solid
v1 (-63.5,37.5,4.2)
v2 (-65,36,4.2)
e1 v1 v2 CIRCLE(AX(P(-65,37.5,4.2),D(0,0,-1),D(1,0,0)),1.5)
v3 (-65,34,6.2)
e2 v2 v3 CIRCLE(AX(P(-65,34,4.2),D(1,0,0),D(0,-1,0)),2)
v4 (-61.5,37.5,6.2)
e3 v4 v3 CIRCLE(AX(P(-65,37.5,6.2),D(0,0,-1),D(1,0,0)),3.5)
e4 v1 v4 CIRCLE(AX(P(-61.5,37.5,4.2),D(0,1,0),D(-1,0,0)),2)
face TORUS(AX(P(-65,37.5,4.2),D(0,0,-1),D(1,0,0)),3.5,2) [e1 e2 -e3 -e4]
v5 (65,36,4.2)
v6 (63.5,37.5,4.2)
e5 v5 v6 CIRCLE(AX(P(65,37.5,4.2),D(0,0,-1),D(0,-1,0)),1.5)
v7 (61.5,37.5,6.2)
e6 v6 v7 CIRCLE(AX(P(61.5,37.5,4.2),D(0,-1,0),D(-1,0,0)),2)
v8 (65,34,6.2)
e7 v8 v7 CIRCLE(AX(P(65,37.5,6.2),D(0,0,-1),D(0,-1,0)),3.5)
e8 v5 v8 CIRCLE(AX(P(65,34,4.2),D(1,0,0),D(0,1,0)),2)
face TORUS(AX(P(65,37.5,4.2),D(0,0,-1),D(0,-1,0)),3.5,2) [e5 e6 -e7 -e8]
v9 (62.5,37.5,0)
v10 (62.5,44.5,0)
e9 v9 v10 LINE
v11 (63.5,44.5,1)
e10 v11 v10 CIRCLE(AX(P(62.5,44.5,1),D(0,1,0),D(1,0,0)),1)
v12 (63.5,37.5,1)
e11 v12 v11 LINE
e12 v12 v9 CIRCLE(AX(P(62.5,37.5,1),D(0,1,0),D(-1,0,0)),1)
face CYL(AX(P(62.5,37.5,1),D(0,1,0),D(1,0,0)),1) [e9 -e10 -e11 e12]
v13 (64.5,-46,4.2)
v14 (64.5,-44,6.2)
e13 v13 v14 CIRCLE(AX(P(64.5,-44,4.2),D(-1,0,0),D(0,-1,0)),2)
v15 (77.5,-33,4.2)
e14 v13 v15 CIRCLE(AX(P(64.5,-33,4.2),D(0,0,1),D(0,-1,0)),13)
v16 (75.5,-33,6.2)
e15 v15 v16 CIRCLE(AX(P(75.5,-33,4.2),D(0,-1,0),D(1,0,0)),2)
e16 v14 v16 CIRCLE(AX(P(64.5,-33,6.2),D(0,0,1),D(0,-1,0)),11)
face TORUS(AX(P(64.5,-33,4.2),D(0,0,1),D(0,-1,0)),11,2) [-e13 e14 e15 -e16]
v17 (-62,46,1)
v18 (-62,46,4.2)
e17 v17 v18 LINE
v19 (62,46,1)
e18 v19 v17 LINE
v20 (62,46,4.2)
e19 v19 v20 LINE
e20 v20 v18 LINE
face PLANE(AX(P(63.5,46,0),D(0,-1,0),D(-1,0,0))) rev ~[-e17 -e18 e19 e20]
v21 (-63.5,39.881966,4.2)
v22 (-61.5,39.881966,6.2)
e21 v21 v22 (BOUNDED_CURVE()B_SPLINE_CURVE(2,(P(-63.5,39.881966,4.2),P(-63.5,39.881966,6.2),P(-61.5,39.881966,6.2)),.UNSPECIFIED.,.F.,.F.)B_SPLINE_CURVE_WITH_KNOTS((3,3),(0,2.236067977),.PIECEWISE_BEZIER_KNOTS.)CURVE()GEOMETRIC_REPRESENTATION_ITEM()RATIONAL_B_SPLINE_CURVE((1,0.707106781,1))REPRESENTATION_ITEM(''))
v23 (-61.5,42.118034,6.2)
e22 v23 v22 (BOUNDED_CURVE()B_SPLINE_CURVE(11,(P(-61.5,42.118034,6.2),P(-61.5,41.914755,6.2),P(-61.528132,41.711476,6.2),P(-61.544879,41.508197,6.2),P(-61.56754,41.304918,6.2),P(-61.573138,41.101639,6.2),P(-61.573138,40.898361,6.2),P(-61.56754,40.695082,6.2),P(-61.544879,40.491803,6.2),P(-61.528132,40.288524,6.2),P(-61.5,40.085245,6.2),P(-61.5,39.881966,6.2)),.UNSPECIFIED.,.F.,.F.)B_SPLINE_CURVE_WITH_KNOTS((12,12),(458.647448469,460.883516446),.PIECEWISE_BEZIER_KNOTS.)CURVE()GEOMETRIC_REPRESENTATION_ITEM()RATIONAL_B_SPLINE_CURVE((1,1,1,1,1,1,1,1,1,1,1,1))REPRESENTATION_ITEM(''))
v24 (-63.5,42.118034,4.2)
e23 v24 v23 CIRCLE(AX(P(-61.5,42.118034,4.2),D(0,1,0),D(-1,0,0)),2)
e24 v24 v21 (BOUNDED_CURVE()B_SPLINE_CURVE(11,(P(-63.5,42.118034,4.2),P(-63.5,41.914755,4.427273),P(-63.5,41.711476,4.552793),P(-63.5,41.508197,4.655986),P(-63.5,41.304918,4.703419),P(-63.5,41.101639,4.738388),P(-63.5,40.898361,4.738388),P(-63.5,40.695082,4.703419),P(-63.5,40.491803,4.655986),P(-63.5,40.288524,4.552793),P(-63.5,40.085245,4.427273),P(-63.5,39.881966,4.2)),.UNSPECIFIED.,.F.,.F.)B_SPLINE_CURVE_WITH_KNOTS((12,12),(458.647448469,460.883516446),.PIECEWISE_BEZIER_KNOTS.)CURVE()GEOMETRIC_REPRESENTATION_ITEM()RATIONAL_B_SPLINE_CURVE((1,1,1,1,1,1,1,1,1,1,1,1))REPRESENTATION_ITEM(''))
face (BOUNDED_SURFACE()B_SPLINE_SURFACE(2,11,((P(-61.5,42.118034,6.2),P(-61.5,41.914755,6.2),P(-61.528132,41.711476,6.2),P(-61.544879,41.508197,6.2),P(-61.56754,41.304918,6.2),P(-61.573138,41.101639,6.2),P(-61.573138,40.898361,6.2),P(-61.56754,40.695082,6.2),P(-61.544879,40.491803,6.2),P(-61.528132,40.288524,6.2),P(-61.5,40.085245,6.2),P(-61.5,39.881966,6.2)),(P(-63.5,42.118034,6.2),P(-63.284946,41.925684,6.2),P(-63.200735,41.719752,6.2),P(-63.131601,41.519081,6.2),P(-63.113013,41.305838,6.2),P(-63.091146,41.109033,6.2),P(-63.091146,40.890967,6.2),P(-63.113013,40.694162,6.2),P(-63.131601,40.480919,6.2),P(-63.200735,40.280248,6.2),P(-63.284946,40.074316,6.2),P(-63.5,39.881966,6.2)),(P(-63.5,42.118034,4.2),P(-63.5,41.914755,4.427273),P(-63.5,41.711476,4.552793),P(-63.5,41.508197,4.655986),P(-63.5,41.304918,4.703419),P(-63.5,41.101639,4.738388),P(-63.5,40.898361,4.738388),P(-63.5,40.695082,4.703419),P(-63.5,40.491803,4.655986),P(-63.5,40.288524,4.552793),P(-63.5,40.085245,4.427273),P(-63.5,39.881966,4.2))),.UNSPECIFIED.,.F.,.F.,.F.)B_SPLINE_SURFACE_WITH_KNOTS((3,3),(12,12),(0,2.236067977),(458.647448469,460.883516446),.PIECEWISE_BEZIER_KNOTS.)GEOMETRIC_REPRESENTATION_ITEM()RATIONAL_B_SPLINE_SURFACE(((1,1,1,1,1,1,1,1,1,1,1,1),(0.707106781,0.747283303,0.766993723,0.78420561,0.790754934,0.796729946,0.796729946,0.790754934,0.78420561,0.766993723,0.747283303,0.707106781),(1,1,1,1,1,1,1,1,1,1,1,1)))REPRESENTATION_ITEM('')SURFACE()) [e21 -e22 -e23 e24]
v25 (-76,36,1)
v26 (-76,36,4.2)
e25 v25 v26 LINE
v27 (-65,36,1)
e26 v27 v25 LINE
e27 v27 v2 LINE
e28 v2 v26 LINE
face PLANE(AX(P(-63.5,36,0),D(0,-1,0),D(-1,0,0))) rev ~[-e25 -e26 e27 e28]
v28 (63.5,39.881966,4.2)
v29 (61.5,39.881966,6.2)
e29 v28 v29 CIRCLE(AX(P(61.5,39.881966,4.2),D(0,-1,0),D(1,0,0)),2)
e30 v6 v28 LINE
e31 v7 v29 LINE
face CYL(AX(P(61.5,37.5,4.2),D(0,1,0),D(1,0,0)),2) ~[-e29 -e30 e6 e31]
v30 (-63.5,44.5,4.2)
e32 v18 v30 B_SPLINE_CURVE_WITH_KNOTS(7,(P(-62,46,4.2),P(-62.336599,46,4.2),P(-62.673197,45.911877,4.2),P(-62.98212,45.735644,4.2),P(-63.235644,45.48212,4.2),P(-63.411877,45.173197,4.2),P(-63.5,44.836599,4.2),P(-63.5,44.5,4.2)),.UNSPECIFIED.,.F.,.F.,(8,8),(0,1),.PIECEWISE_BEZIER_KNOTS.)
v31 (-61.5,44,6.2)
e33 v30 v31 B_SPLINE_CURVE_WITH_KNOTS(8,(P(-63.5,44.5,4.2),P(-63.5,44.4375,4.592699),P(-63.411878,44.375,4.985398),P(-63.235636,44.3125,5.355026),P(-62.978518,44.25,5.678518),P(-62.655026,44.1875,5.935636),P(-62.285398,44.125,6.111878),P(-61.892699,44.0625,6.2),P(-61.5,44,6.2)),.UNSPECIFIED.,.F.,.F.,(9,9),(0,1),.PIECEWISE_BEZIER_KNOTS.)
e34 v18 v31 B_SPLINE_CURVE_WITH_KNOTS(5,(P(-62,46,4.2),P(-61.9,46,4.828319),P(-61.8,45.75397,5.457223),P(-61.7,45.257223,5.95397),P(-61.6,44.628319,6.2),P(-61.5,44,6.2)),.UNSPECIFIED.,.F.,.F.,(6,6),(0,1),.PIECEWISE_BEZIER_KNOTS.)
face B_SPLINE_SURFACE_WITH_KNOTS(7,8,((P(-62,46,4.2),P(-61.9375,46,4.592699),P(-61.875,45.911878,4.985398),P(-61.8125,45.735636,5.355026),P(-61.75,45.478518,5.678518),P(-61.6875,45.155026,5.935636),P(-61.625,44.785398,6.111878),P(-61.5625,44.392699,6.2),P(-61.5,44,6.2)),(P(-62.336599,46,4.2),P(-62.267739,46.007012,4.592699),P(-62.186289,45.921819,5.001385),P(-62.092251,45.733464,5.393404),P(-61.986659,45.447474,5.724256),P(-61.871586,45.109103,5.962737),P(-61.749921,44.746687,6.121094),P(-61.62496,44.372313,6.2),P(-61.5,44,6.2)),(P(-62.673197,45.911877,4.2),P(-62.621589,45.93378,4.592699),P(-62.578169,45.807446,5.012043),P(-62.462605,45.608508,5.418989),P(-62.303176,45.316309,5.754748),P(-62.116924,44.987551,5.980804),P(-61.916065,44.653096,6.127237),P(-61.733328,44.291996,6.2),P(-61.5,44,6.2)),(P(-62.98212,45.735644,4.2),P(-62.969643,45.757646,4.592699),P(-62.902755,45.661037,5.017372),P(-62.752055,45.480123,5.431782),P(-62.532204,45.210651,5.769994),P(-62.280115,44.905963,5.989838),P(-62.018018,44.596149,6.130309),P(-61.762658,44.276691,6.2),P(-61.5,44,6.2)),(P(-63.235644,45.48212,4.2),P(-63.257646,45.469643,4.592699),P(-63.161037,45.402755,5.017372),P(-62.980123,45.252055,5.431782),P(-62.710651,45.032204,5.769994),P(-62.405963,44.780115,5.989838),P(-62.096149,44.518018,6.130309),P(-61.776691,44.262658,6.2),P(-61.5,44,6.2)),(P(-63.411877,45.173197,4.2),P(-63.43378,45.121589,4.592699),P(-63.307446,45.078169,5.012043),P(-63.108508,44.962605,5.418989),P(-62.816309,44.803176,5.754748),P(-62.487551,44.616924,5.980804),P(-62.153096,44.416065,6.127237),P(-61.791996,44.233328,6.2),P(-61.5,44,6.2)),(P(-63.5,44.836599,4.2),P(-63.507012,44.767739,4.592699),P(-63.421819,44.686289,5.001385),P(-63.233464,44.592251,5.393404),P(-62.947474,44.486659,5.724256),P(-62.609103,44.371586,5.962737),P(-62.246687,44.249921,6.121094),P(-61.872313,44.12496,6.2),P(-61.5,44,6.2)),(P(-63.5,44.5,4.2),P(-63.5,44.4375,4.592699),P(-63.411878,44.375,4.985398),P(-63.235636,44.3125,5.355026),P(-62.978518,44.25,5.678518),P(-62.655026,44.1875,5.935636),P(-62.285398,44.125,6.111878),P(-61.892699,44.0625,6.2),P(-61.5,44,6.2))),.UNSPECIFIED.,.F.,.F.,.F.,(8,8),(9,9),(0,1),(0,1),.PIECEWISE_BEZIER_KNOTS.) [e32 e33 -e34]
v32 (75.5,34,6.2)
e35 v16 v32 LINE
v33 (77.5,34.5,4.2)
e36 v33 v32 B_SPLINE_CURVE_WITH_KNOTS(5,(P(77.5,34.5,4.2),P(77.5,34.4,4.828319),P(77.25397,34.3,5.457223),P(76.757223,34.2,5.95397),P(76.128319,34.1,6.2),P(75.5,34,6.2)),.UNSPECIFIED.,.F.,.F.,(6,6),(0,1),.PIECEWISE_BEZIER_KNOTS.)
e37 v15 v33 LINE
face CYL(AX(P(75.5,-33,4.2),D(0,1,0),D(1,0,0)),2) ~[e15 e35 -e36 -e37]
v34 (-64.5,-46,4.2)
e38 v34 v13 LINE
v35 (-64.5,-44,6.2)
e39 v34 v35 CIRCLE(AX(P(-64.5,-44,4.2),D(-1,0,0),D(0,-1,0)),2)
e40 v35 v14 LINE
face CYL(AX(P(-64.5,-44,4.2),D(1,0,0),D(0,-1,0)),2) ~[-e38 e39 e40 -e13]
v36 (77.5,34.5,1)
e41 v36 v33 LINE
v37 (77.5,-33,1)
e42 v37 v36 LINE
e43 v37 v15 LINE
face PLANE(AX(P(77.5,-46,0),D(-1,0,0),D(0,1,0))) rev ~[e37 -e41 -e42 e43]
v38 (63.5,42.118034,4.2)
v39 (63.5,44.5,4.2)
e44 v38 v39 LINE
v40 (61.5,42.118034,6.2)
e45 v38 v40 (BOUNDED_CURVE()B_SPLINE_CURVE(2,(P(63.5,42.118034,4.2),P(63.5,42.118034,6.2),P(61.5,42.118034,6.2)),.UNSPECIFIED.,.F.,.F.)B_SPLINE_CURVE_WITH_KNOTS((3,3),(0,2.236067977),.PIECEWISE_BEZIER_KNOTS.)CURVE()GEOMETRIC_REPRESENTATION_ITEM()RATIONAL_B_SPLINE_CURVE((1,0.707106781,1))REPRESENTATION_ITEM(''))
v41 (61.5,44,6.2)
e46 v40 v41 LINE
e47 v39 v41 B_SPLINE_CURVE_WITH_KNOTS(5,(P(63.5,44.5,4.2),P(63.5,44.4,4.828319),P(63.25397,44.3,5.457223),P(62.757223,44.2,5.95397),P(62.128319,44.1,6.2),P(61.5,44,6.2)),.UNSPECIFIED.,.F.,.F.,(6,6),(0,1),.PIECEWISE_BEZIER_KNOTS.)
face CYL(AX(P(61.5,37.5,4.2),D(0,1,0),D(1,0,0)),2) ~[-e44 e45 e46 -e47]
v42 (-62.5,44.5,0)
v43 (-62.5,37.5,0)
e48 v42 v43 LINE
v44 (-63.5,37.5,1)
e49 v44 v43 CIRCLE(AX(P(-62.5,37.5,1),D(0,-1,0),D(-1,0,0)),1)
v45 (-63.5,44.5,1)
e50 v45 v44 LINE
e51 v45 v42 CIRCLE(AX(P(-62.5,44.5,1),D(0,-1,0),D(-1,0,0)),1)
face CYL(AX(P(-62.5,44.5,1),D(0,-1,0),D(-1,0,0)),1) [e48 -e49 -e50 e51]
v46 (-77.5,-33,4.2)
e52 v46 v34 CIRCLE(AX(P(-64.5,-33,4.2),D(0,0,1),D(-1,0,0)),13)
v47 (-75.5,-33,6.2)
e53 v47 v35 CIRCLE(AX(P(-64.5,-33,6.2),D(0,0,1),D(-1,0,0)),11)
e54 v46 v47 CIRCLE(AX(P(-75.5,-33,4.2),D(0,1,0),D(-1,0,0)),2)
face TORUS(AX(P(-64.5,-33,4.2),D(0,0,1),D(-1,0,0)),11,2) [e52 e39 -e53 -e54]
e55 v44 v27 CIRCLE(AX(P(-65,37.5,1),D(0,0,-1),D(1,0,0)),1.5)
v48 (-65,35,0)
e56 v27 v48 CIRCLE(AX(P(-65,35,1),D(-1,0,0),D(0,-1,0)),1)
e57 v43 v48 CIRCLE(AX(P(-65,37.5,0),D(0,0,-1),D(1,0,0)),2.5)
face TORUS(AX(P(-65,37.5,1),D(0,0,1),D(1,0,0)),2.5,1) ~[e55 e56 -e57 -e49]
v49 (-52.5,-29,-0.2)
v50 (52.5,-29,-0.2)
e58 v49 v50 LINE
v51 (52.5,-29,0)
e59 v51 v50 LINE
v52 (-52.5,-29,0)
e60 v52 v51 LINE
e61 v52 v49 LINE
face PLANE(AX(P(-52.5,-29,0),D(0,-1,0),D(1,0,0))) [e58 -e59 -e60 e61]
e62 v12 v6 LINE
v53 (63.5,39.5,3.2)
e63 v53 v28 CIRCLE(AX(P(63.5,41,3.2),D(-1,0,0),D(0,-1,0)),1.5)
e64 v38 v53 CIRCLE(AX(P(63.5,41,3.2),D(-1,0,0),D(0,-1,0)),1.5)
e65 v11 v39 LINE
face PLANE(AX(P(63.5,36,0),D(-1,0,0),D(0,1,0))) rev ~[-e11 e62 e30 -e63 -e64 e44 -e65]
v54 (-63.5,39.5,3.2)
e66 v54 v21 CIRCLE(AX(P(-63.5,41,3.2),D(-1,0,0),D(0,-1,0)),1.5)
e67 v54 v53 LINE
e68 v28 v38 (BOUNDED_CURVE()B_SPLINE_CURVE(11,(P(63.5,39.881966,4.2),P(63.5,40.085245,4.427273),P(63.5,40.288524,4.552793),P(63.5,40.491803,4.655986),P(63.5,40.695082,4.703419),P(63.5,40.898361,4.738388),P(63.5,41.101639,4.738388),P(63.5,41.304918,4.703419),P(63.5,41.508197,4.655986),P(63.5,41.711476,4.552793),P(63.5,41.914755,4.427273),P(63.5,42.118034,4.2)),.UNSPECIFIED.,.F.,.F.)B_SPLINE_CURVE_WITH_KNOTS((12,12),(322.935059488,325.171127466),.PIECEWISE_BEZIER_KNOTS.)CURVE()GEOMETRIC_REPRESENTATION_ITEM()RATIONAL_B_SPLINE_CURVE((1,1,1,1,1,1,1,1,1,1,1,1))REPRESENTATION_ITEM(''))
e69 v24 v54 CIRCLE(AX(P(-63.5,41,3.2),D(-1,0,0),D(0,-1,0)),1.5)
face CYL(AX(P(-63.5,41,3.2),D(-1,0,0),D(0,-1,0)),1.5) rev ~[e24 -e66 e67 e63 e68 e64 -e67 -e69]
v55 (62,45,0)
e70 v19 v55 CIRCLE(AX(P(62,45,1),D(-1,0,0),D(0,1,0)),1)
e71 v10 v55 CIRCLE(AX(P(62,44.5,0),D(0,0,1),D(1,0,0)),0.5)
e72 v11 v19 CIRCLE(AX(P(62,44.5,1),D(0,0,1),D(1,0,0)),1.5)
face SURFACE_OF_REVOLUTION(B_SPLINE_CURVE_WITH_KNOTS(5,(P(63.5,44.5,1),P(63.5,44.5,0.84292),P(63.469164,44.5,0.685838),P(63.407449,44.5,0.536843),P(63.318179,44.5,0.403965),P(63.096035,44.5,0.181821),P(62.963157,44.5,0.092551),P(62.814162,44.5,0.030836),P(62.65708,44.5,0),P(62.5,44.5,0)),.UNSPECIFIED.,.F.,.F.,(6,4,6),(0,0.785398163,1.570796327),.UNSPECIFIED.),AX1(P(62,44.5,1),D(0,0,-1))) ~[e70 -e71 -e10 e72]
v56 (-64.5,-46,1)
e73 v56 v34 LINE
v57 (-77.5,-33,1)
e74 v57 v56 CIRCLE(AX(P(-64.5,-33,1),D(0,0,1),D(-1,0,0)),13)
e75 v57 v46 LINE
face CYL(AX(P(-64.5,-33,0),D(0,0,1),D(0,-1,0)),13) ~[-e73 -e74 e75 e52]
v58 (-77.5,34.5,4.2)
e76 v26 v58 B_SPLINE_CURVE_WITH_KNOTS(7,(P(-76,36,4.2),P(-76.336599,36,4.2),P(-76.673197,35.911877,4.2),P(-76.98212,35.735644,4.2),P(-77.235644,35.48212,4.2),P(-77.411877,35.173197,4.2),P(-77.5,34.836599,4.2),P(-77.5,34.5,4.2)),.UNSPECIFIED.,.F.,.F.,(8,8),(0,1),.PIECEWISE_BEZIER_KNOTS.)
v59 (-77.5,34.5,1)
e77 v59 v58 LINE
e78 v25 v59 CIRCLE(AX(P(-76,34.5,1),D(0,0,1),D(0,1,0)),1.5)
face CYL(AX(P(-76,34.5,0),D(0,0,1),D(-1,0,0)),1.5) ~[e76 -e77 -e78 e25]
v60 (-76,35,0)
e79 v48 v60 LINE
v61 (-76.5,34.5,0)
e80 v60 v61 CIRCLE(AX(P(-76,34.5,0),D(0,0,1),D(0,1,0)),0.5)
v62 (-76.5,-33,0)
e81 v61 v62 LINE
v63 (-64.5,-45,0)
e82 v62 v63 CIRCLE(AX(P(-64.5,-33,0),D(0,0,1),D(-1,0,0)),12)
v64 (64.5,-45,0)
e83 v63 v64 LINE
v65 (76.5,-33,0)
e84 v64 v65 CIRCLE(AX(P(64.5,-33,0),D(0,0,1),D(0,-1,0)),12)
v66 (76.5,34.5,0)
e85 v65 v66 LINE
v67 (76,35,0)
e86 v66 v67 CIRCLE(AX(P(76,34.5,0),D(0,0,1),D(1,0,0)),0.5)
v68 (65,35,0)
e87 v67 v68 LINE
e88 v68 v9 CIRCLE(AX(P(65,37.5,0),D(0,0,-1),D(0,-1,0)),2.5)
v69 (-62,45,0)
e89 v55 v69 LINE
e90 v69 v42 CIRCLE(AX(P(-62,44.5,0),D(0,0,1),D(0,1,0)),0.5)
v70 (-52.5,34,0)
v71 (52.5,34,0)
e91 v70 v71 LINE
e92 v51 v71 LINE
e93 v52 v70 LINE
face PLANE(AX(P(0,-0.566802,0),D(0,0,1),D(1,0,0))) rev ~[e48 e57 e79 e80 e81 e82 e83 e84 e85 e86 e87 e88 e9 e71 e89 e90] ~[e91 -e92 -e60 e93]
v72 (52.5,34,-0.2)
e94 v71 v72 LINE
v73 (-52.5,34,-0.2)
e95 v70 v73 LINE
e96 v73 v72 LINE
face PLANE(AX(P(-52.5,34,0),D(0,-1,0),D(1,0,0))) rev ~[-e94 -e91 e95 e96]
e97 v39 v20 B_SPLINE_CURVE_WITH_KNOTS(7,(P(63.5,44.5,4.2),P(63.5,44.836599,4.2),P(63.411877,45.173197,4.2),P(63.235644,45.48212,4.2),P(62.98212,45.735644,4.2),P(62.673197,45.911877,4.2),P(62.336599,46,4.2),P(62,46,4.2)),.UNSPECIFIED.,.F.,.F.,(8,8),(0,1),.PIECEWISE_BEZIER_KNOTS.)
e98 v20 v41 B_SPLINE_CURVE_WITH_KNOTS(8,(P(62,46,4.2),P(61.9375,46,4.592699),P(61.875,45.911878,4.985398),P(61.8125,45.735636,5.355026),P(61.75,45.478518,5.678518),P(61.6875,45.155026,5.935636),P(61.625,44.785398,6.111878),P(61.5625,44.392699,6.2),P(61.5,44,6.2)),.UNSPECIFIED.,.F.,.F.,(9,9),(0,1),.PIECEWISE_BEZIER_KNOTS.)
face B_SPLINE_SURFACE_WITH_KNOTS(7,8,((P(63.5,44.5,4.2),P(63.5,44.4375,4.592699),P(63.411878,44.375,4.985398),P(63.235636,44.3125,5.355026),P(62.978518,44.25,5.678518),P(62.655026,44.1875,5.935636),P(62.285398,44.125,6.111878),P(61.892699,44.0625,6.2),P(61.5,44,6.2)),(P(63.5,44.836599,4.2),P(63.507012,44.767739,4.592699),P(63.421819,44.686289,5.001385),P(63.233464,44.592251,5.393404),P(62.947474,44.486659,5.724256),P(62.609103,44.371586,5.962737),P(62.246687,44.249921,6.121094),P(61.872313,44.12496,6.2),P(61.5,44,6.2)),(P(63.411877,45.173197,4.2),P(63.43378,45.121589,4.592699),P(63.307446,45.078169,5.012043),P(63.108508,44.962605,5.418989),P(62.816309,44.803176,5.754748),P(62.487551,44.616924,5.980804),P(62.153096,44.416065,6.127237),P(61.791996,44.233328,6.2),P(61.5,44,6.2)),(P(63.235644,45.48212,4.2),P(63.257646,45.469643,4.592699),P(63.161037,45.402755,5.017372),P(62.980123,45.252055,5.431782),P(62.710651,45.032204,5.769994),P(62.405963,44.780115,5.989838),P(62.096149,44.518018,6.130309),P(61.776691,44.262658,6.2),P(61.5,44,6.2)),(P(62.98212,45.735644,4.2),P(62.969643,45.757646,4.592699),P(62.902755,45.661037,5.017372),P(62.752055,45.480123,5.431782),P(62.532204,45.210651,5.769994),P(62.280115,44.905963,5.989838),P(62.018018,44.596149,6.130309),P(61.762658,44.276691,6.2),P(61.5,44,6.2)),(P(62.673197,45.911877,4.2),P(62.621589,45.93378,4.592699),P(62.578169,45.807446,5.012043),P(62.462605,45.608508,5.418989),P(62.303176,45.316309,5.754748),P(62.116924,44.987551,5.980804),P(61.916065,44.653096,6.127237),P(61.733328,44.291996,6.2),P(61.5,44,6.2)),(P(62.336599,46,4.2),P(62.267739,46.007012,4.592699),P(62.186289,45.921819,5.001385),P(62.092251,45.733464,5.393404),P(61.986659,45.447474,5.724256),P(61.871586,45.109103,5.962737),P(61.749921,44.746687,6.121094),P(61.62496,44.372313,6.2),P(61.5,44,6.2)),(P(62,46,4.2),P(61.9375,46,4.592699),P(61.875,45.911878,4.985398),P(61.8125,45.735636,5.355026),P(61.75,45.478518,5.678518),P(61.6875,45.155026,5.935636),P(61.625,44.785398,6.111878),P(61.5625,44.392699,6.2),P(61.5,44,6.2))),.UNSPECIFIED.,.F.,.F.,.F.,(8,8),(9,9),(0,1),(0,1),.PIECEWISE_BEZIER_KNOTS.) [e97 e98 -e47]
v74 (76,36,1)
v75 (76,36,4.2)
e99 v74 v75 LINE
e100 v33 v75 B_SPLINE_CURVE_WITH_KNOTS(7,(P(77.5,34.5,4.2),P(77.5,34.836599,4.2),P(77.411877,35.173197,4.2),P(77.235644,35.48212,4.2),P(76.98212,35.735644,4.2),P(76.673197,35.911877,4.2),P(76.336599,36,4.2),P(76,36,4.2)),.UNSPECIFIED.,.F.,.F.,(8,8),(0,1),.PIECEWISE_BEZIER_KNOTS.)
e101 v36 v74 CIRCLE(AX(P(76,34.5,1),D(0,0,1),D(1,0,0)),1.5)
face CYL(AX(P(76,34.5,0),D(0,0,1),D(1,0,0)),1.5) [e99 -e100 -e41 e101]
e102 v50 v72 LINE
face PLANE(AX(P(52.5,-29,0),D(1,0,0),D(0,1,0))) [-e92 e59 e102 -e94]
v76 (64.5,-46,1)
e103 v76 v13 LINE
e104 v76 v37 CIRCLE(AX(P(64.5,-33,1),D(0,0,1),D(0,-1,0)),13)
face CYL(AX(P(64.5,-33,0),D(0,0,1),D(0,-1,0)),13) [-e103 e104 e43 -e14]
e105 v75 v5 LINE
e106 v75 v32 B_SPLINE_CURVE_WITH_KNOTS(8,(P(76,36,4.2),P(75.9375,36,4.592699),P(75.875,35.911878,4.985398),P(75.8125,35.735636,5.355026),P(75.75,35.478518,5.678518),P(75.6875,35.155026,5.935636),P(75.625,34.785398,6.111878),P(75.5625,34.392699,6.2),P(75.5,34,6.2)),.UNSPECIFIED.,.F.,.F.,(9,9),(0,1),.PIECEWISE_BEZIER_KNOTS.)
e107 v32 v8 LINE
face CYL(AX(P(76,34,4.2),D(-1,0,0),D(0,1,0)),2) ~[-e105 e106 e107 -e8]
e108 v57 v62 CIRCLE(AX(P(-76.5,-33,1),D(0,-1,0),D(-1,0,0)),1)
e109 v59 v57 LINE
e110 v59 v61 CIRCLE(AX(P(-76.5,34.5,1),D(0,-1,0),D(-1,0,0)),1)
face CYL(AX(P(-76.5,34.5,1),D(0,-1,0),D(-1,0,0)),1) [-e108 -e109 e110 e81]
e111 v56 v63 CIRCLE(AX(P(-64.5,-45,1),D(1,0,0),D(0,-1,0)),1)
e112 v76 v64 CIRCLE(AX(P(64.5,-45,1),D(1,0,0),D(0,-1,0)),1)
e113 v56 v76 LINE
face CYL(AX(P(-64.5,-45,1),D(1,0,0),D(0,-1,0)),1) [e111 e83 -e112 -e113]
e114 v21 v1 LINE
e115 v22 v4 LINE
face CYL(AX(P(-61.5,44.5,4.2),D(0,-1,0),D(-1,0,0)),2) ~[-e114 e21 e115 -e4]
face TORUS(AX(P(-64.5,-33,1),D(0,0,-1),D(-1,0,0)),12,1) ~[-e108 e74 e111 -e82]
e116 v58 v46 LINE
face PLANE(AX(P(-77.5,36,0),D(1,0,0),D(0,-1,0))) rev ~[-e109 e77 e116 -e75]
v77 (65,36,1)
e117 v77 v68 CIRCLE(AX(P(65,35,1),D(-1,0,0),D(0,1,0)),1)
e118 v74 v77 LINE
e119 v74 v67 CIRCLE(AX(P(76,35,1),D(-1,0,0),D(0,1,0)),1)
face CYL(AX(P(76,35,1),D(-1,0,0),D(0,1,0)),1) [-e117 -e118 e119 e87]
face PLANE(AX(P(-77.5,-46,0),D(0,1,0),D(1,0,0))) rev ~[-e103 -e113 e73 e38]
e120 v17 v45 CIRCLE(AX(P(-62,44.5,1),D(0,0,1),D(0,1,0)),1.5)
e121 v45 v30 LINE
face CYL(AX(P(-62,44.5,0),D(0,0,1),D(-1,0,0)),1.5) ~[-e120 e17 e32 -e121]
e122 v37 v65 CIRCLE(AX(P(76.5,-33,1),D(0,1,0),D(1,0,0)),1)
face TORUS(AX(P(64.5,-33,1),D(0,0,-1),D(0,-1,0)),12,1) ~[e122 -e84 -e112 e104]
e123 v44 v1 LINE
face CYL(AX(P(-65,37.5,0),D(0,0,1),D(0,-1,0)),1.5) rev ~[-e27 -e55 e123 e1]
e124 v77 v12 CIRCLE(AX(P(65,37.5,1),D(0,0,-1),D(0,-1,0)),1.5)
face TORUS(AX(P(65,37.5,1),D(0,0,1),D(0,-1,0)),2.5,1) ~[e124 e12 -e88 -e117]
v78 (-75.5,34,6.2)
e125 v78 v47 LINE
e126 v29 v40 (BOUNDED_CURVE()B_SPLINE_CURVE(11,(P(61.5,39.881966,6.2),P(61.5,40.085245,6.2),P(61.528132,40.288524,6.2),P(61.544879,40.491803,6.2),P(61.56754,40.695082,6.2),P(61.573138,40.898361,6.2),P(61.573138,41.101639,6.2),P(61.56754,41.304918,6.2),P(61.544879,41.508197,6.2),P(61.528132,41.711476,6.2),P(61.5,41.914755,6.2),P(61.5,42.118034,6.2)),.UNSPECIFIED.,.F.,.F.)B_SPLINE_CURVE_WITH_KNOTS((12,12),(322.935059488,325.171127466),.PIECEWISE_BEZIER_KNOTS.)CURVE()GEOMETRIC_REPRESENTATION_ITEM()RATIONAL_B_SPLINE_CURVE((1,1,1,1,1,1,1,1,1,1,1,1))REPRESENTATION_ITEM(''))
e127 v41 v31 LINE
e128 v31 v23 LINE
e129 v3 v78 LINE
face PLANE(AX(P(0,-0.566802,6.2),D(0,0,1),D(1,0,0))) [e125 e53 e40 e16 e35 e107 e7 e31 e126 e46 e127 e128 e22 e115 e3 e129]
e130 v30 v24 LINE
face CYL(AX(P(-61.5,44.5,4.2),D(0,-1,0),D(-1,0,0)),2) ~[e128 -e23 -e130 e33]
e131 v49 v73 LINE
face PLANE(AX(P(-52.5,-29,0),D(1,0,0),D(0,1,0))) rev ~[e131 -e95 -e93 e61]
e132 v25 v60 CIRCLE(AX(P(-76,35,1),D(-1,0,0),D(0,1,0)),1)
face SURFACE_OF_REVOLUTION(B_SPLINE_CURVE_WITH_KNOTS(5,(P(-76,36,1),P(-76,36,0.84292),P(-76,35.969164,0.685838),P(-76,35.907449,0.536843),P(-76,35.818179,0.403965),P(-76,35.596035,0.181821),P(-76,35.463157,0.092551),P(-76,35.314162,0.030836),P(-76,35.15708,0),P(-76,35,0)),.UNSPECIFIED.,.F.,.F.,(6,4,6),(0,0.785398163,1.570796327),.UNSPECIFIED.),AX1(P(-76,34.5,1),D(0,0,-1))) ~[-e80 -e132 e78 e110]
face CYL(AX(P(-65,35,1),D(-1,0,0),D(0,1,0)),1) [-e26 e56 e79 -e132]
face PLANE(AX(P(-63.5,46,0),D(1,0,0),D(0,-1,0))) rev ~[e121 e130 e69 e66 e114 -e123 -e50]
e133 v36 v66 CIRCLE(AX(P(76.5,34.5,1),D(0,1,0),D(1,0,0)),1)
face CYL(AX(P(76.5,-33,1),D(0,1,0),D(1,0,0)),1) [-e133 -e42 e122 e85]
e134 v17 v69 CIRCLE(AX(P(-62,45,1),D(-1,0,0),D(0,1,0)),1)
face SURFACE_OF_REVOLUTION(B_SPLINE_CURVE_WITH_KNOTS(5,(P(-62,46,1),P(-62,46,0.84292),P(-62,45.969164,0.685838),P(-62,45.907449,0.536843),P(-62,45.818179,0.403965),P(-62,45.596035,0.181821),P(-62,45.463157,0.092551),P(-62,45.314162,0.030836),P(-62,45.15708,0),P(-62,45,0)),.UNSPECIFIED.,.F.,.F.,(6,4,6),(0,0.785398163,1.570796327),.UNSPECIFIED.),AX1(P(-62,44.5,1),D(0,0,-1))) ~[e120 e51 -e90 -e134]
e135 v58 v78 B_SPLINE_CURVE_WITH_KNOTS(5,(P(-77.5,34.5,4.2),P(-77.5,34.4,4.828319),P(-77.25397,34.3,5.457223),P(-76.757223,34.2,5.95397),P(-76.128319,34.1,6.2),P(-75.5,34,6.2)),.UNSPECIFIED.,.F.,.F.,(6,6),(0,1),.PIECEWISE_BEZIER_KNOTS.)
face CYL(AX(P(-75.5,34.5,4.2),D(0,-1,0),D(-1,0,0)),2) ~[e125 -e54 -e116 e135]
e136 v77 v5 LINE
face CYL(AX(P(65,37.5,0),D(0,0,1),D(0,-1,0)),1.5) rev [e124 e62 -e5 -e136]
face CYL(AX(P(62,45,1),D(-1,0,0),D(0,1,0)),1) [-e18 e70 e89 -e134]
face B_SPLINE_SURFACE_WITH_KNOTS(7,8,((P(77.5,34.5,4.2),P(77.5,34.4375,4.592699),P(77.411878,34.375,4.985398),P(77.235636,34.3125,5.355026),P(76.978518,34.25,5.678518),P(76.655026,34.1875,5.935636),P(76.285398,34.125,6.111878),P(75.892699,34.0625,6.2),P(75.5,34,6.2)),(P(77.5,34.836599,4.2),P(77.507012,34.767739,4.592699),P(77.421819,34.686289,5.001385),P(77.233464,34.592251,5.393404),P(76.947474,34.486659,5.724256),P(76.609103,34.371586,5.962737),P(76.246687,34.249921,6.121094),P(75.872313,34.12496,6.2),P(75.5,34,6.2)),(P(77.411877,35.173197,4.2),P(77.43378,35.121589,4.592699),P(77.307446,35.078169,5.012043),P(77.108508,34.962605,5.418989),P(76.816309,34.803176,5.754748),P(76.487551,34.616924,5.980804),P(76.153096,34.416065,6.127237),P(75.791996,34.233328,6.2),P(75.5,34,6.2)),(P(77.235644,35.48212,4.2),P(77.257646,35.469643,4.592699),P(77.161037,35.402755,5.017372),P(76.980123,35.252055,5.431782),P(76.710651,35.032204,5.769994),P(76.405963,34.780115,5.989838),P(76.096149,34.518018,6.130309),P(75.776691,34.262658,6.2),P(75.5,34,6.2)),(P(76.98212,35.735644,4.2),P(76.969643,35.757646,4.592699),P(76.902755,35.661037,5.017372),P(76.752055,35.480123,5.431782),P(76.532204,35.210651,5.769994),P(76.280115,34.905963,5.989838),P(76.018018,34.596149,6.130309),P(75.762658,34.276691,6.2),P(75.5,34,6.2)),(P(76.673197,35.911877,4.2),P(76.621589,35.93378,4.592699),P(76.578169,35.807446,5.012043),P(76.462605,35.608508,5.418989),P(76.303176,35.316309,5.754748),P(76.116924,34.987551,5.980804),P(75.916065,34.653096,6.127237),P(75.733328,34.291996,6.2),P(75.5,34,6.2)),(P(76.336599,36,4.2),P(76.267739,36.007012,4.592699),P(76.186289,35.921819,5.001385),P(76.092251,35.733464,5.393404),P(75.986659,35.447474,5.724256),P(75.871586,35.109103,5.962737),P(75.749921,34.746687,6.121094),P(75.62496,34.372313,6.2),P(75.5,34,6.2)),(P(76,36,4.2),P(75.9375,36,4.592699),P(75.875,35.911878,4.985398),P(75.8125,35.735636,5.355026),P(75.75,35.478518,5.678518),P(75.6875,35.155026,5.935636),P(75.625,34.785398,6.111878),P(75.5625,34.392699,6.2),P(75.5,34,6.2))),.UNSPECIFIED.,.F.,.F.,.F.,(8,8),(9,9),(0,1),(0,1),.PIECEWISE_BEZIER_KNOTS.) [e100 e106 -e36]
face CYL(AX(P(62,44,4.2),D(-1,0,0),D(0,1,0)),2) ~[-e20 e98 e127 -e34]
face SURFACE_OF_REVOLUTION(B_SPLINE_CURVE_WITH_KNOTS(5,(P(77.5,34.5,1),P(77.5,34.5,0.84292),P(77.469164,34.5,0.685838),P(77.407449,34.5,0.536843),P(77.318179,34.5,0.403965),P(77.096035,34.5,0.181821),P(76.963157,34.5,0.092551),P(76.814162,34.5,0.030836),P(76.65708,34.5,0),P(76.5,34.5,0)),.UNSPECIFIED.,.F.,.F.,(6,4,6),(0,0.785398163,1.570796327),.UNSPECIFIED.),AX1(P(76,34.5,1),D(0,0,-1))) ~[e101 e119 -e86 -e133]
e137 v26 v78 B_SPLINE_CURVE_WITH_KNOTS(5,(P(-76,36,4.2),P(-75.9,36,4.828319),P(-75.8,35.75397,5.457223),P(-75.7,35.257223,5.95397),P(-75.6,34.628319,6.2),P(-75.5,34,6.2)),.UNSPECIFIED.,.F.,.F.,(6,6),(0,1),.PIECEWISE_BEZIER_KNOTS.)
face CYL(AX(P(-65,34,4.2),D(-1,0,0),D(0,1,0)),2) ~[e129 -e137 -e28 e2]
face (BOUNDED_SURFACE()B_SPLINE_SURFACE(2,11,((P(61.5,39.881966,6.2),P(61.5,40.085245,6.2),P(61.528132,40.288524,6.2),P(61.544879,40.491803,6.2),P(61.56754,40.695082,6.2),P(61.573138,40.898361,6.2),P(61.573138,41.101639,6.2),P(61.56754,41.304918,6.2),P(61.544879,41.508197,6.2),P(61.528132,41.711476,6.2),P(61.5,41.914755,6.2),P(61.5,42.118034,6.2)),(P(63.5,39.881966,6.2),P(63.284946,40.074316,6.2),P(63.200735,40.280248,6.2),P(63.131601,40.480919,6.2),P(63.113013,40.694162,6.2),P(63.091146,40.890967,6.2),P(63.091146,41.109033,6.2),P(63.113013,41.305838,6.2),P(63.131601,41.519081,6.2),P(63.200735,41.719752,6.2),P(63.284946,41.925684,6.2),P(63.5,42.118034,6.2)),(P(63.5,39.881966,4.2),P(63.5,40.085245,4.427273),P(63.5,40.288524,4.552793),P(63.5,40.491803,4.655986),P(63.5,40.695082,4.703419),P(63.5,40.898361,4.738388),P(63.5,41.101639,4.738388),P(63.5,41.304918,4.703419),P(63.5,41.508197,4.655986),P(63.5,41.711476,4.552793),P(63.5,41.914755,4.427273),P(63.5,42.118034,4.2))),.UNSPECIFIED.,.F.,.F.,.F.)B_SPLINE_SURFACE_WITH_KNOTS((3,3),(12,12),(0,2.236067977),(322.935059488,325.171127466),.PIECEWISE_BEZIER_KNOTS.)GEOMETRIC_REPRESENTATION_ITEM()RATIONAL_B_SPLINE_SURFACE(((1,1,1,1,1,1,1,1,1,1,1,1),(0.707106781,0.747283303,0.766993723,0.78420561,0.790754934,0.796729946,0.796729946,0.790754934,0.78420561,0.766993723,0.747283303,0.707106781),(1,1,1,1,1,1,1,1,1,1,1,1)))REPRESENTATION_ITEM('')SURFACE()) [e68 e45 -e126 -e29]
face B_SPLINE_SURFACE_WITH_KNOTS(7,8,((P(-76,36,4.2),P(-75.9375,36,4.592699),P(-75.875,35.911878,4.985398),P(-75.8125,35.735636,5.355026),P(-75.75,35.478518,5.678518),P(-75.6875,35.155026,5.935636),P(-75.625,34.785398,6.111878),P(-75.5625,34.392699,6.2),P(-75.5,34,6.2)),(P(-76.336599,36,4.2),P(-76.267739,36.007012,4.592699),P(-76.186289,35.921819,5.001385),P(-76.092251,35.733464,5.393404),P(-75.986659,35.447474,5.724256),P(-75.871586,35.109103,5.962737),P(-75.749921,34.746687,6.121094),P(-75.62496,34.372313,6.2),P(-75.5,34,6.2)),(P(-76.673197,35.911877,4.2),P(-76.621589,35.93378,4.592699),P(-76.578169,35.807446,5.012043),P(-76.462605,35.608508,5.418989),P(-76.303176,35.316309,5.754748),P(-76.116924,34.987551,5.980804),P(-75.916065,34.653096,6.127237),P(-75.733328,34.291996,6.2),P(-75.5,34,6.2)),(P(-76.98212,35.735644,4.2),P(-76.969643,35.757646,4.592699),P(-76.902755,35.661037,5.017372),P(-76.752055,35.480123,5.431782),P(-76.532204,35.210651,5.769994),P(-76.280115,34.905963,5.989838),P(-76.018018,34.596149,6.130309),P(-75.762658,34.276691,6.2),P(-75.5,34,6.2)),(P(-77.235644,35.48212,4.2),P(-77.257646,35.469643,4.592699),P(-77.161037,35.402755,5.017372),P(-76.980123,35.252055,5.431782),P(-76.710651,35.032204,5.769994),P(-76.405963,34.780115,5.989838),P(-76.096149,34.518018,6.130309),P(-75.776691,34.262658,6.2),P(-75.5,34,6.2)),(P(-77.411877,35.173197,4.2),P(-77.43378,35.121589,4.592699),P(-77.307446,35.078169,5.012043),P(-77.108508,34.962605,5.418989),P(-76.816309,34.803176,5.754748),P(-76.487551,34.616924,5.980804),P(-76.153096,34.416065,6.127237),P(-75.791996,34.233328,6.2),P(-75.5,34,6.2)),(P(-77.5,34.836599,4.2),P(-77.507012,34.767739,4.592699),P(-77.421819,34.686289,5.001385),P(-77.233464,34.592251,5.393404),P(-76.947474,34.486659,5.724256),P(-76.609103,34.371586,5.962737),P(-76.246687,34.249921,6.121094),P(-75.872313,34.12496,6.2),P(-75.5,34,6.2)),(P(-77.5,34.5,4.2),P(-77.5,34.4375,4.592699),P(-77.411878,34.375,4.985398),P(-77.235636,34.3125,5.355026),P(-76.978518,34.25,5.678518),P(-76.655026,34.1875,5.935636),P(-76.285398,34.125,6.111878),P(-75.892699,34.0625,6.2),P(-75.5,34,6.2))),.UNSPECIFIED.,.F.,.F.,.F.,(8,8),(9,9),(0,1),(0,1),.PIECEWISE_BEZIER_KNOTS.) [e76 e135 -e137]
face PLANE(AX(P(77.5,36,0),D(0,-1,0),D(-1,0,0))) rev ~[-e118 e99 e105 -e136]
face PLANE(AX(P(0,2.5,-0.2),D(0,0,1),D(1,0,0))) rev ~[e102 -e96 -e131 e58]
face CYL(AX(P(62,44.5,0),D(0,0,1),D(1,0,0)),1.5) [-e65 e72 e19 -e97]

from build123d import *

# Parameters (mm, degrees)
PAD_DEPTH    = 6.2
SKETCH001_R  = 1.5
POCKET_DEPTH = 127
FILLET_R     = 13
FILLET001_R  = 1.5
FILLET002_R  = 2
FILLET003_R  = 1
SKETCH002_W  = 105
SKETCH002_H  = 63
PAD001_DEPTH = 0.2


with BuildPart() as part:
    # Sketch → Pad (new body)
    with BuildSketch(Plane.XY):
        Polygon((-77.5, -46), (77.5, -46), (77.5, 36), (63.5, 36), (63.5, 46), (-63.5, 46), (-63.5, 36), (-77.5, 36), align=None)
    extrude(amount=PAD_DEPTH)

    # Sketch001 (on Face1 of Pad) → Pocket (cut)
    with BuildSketch(Plane(origin=(-63.5, 0, 0), x_dir=(0, -1, 0), z_dir=(-1, 0, 0))):
        with Locations((-41, 3.2)):
            Circle(SKETCH001_R)
    extrude(amount=-POCKET_DEPTH, mode=Mode.SUBTRACT)

    # Fillet
    fillet_edges = [part.edges().sort_by_distance(p)[0] for p in [
        (-77.5, -46, 3.1),
        (77.5, -46, 3.1),
    ]]
    fillet(fillet_edges, radius=FILLET_R)

    # Fillet001
    fillet001_edges = [part.edges().sort_by_distance(p)[0] for p in [
        (-77.5, 36, 3.1),
        (-63.5, 36, 3.1),
        (-63.5, 46, 3.1),
        (63.5, 46, 3.1),
        (63.5, 36, 3.1),
        (77.5, 36, 3.1),
    ]]
    fillet(fillet001_edges, radius=FILLET001_R)

    # Fillet002
    fillet002_edges = [part.edges().sort_by_distance(p)[0] for p in [
        (-77.5, 0.75, 6.2),
        (-77.06066, 35.56066, 6.2),
        (-73.692388, -42.192388, 6.2),
        (-70.5, 36, 6.2),
        (0, -46, 6.2),
        (-63.93934, 36.43934, 6.2),
        (73.692388, -42.192388, 6.2),
        (-63.5, 41, 6.2),
        (77.5, 0.75, 6.2),
        (-63.06066, 45.56066, 6.2),
        (77.06066, 35.56066, 6.2),
        (0, 46, 6.2),
        (70.5, 36, 6.2),
        (63.06066, 45.56066, 6.2),
        (63.93934, 36.43934, 6.2),
        (63.5, 41, 6.2),
    ]]
    fillet(fillet002_edges, radius=FILLET002_R)

    # Fillet003
    fillet003_edges = [part.edges().sort_by_distance(p)[0] for p in [
        (-77.5, 0.75, 0),
        (-77.06066, 35.56066, 0),
        (-73.692388, -42.192388, 0),
        (-70.5, 36, 0),
        (0, -46, 0),
        (-63.93934, 36.43934, 0),
        (73.692388, -42.192388, 0),
        (-63.5, 41, 0),
        (77.5, 0.75, 0),
        (-63.06066, 45.56066, 0),
        (77.06066, 35.56066, 0),
        (0, 46, 0),
        (70.5, 36, 0),
        (63.06066, 45.56066, 0),
        (63.93934, 36.43934, 0),
        (63.5, 41, 0),
    ]]
    fillet(fillet003_edges, radius=FILLET003_R)

    # Sketch002 → Pad001 (join)
    with BuildSketch(Plane.XY):
        with Locations((0, 2.5)):
            Rectangle(SKETCH002_W, SKETCH002_H)
    extrude(amount=-PAD001_DEPTH)


solid = part.part
